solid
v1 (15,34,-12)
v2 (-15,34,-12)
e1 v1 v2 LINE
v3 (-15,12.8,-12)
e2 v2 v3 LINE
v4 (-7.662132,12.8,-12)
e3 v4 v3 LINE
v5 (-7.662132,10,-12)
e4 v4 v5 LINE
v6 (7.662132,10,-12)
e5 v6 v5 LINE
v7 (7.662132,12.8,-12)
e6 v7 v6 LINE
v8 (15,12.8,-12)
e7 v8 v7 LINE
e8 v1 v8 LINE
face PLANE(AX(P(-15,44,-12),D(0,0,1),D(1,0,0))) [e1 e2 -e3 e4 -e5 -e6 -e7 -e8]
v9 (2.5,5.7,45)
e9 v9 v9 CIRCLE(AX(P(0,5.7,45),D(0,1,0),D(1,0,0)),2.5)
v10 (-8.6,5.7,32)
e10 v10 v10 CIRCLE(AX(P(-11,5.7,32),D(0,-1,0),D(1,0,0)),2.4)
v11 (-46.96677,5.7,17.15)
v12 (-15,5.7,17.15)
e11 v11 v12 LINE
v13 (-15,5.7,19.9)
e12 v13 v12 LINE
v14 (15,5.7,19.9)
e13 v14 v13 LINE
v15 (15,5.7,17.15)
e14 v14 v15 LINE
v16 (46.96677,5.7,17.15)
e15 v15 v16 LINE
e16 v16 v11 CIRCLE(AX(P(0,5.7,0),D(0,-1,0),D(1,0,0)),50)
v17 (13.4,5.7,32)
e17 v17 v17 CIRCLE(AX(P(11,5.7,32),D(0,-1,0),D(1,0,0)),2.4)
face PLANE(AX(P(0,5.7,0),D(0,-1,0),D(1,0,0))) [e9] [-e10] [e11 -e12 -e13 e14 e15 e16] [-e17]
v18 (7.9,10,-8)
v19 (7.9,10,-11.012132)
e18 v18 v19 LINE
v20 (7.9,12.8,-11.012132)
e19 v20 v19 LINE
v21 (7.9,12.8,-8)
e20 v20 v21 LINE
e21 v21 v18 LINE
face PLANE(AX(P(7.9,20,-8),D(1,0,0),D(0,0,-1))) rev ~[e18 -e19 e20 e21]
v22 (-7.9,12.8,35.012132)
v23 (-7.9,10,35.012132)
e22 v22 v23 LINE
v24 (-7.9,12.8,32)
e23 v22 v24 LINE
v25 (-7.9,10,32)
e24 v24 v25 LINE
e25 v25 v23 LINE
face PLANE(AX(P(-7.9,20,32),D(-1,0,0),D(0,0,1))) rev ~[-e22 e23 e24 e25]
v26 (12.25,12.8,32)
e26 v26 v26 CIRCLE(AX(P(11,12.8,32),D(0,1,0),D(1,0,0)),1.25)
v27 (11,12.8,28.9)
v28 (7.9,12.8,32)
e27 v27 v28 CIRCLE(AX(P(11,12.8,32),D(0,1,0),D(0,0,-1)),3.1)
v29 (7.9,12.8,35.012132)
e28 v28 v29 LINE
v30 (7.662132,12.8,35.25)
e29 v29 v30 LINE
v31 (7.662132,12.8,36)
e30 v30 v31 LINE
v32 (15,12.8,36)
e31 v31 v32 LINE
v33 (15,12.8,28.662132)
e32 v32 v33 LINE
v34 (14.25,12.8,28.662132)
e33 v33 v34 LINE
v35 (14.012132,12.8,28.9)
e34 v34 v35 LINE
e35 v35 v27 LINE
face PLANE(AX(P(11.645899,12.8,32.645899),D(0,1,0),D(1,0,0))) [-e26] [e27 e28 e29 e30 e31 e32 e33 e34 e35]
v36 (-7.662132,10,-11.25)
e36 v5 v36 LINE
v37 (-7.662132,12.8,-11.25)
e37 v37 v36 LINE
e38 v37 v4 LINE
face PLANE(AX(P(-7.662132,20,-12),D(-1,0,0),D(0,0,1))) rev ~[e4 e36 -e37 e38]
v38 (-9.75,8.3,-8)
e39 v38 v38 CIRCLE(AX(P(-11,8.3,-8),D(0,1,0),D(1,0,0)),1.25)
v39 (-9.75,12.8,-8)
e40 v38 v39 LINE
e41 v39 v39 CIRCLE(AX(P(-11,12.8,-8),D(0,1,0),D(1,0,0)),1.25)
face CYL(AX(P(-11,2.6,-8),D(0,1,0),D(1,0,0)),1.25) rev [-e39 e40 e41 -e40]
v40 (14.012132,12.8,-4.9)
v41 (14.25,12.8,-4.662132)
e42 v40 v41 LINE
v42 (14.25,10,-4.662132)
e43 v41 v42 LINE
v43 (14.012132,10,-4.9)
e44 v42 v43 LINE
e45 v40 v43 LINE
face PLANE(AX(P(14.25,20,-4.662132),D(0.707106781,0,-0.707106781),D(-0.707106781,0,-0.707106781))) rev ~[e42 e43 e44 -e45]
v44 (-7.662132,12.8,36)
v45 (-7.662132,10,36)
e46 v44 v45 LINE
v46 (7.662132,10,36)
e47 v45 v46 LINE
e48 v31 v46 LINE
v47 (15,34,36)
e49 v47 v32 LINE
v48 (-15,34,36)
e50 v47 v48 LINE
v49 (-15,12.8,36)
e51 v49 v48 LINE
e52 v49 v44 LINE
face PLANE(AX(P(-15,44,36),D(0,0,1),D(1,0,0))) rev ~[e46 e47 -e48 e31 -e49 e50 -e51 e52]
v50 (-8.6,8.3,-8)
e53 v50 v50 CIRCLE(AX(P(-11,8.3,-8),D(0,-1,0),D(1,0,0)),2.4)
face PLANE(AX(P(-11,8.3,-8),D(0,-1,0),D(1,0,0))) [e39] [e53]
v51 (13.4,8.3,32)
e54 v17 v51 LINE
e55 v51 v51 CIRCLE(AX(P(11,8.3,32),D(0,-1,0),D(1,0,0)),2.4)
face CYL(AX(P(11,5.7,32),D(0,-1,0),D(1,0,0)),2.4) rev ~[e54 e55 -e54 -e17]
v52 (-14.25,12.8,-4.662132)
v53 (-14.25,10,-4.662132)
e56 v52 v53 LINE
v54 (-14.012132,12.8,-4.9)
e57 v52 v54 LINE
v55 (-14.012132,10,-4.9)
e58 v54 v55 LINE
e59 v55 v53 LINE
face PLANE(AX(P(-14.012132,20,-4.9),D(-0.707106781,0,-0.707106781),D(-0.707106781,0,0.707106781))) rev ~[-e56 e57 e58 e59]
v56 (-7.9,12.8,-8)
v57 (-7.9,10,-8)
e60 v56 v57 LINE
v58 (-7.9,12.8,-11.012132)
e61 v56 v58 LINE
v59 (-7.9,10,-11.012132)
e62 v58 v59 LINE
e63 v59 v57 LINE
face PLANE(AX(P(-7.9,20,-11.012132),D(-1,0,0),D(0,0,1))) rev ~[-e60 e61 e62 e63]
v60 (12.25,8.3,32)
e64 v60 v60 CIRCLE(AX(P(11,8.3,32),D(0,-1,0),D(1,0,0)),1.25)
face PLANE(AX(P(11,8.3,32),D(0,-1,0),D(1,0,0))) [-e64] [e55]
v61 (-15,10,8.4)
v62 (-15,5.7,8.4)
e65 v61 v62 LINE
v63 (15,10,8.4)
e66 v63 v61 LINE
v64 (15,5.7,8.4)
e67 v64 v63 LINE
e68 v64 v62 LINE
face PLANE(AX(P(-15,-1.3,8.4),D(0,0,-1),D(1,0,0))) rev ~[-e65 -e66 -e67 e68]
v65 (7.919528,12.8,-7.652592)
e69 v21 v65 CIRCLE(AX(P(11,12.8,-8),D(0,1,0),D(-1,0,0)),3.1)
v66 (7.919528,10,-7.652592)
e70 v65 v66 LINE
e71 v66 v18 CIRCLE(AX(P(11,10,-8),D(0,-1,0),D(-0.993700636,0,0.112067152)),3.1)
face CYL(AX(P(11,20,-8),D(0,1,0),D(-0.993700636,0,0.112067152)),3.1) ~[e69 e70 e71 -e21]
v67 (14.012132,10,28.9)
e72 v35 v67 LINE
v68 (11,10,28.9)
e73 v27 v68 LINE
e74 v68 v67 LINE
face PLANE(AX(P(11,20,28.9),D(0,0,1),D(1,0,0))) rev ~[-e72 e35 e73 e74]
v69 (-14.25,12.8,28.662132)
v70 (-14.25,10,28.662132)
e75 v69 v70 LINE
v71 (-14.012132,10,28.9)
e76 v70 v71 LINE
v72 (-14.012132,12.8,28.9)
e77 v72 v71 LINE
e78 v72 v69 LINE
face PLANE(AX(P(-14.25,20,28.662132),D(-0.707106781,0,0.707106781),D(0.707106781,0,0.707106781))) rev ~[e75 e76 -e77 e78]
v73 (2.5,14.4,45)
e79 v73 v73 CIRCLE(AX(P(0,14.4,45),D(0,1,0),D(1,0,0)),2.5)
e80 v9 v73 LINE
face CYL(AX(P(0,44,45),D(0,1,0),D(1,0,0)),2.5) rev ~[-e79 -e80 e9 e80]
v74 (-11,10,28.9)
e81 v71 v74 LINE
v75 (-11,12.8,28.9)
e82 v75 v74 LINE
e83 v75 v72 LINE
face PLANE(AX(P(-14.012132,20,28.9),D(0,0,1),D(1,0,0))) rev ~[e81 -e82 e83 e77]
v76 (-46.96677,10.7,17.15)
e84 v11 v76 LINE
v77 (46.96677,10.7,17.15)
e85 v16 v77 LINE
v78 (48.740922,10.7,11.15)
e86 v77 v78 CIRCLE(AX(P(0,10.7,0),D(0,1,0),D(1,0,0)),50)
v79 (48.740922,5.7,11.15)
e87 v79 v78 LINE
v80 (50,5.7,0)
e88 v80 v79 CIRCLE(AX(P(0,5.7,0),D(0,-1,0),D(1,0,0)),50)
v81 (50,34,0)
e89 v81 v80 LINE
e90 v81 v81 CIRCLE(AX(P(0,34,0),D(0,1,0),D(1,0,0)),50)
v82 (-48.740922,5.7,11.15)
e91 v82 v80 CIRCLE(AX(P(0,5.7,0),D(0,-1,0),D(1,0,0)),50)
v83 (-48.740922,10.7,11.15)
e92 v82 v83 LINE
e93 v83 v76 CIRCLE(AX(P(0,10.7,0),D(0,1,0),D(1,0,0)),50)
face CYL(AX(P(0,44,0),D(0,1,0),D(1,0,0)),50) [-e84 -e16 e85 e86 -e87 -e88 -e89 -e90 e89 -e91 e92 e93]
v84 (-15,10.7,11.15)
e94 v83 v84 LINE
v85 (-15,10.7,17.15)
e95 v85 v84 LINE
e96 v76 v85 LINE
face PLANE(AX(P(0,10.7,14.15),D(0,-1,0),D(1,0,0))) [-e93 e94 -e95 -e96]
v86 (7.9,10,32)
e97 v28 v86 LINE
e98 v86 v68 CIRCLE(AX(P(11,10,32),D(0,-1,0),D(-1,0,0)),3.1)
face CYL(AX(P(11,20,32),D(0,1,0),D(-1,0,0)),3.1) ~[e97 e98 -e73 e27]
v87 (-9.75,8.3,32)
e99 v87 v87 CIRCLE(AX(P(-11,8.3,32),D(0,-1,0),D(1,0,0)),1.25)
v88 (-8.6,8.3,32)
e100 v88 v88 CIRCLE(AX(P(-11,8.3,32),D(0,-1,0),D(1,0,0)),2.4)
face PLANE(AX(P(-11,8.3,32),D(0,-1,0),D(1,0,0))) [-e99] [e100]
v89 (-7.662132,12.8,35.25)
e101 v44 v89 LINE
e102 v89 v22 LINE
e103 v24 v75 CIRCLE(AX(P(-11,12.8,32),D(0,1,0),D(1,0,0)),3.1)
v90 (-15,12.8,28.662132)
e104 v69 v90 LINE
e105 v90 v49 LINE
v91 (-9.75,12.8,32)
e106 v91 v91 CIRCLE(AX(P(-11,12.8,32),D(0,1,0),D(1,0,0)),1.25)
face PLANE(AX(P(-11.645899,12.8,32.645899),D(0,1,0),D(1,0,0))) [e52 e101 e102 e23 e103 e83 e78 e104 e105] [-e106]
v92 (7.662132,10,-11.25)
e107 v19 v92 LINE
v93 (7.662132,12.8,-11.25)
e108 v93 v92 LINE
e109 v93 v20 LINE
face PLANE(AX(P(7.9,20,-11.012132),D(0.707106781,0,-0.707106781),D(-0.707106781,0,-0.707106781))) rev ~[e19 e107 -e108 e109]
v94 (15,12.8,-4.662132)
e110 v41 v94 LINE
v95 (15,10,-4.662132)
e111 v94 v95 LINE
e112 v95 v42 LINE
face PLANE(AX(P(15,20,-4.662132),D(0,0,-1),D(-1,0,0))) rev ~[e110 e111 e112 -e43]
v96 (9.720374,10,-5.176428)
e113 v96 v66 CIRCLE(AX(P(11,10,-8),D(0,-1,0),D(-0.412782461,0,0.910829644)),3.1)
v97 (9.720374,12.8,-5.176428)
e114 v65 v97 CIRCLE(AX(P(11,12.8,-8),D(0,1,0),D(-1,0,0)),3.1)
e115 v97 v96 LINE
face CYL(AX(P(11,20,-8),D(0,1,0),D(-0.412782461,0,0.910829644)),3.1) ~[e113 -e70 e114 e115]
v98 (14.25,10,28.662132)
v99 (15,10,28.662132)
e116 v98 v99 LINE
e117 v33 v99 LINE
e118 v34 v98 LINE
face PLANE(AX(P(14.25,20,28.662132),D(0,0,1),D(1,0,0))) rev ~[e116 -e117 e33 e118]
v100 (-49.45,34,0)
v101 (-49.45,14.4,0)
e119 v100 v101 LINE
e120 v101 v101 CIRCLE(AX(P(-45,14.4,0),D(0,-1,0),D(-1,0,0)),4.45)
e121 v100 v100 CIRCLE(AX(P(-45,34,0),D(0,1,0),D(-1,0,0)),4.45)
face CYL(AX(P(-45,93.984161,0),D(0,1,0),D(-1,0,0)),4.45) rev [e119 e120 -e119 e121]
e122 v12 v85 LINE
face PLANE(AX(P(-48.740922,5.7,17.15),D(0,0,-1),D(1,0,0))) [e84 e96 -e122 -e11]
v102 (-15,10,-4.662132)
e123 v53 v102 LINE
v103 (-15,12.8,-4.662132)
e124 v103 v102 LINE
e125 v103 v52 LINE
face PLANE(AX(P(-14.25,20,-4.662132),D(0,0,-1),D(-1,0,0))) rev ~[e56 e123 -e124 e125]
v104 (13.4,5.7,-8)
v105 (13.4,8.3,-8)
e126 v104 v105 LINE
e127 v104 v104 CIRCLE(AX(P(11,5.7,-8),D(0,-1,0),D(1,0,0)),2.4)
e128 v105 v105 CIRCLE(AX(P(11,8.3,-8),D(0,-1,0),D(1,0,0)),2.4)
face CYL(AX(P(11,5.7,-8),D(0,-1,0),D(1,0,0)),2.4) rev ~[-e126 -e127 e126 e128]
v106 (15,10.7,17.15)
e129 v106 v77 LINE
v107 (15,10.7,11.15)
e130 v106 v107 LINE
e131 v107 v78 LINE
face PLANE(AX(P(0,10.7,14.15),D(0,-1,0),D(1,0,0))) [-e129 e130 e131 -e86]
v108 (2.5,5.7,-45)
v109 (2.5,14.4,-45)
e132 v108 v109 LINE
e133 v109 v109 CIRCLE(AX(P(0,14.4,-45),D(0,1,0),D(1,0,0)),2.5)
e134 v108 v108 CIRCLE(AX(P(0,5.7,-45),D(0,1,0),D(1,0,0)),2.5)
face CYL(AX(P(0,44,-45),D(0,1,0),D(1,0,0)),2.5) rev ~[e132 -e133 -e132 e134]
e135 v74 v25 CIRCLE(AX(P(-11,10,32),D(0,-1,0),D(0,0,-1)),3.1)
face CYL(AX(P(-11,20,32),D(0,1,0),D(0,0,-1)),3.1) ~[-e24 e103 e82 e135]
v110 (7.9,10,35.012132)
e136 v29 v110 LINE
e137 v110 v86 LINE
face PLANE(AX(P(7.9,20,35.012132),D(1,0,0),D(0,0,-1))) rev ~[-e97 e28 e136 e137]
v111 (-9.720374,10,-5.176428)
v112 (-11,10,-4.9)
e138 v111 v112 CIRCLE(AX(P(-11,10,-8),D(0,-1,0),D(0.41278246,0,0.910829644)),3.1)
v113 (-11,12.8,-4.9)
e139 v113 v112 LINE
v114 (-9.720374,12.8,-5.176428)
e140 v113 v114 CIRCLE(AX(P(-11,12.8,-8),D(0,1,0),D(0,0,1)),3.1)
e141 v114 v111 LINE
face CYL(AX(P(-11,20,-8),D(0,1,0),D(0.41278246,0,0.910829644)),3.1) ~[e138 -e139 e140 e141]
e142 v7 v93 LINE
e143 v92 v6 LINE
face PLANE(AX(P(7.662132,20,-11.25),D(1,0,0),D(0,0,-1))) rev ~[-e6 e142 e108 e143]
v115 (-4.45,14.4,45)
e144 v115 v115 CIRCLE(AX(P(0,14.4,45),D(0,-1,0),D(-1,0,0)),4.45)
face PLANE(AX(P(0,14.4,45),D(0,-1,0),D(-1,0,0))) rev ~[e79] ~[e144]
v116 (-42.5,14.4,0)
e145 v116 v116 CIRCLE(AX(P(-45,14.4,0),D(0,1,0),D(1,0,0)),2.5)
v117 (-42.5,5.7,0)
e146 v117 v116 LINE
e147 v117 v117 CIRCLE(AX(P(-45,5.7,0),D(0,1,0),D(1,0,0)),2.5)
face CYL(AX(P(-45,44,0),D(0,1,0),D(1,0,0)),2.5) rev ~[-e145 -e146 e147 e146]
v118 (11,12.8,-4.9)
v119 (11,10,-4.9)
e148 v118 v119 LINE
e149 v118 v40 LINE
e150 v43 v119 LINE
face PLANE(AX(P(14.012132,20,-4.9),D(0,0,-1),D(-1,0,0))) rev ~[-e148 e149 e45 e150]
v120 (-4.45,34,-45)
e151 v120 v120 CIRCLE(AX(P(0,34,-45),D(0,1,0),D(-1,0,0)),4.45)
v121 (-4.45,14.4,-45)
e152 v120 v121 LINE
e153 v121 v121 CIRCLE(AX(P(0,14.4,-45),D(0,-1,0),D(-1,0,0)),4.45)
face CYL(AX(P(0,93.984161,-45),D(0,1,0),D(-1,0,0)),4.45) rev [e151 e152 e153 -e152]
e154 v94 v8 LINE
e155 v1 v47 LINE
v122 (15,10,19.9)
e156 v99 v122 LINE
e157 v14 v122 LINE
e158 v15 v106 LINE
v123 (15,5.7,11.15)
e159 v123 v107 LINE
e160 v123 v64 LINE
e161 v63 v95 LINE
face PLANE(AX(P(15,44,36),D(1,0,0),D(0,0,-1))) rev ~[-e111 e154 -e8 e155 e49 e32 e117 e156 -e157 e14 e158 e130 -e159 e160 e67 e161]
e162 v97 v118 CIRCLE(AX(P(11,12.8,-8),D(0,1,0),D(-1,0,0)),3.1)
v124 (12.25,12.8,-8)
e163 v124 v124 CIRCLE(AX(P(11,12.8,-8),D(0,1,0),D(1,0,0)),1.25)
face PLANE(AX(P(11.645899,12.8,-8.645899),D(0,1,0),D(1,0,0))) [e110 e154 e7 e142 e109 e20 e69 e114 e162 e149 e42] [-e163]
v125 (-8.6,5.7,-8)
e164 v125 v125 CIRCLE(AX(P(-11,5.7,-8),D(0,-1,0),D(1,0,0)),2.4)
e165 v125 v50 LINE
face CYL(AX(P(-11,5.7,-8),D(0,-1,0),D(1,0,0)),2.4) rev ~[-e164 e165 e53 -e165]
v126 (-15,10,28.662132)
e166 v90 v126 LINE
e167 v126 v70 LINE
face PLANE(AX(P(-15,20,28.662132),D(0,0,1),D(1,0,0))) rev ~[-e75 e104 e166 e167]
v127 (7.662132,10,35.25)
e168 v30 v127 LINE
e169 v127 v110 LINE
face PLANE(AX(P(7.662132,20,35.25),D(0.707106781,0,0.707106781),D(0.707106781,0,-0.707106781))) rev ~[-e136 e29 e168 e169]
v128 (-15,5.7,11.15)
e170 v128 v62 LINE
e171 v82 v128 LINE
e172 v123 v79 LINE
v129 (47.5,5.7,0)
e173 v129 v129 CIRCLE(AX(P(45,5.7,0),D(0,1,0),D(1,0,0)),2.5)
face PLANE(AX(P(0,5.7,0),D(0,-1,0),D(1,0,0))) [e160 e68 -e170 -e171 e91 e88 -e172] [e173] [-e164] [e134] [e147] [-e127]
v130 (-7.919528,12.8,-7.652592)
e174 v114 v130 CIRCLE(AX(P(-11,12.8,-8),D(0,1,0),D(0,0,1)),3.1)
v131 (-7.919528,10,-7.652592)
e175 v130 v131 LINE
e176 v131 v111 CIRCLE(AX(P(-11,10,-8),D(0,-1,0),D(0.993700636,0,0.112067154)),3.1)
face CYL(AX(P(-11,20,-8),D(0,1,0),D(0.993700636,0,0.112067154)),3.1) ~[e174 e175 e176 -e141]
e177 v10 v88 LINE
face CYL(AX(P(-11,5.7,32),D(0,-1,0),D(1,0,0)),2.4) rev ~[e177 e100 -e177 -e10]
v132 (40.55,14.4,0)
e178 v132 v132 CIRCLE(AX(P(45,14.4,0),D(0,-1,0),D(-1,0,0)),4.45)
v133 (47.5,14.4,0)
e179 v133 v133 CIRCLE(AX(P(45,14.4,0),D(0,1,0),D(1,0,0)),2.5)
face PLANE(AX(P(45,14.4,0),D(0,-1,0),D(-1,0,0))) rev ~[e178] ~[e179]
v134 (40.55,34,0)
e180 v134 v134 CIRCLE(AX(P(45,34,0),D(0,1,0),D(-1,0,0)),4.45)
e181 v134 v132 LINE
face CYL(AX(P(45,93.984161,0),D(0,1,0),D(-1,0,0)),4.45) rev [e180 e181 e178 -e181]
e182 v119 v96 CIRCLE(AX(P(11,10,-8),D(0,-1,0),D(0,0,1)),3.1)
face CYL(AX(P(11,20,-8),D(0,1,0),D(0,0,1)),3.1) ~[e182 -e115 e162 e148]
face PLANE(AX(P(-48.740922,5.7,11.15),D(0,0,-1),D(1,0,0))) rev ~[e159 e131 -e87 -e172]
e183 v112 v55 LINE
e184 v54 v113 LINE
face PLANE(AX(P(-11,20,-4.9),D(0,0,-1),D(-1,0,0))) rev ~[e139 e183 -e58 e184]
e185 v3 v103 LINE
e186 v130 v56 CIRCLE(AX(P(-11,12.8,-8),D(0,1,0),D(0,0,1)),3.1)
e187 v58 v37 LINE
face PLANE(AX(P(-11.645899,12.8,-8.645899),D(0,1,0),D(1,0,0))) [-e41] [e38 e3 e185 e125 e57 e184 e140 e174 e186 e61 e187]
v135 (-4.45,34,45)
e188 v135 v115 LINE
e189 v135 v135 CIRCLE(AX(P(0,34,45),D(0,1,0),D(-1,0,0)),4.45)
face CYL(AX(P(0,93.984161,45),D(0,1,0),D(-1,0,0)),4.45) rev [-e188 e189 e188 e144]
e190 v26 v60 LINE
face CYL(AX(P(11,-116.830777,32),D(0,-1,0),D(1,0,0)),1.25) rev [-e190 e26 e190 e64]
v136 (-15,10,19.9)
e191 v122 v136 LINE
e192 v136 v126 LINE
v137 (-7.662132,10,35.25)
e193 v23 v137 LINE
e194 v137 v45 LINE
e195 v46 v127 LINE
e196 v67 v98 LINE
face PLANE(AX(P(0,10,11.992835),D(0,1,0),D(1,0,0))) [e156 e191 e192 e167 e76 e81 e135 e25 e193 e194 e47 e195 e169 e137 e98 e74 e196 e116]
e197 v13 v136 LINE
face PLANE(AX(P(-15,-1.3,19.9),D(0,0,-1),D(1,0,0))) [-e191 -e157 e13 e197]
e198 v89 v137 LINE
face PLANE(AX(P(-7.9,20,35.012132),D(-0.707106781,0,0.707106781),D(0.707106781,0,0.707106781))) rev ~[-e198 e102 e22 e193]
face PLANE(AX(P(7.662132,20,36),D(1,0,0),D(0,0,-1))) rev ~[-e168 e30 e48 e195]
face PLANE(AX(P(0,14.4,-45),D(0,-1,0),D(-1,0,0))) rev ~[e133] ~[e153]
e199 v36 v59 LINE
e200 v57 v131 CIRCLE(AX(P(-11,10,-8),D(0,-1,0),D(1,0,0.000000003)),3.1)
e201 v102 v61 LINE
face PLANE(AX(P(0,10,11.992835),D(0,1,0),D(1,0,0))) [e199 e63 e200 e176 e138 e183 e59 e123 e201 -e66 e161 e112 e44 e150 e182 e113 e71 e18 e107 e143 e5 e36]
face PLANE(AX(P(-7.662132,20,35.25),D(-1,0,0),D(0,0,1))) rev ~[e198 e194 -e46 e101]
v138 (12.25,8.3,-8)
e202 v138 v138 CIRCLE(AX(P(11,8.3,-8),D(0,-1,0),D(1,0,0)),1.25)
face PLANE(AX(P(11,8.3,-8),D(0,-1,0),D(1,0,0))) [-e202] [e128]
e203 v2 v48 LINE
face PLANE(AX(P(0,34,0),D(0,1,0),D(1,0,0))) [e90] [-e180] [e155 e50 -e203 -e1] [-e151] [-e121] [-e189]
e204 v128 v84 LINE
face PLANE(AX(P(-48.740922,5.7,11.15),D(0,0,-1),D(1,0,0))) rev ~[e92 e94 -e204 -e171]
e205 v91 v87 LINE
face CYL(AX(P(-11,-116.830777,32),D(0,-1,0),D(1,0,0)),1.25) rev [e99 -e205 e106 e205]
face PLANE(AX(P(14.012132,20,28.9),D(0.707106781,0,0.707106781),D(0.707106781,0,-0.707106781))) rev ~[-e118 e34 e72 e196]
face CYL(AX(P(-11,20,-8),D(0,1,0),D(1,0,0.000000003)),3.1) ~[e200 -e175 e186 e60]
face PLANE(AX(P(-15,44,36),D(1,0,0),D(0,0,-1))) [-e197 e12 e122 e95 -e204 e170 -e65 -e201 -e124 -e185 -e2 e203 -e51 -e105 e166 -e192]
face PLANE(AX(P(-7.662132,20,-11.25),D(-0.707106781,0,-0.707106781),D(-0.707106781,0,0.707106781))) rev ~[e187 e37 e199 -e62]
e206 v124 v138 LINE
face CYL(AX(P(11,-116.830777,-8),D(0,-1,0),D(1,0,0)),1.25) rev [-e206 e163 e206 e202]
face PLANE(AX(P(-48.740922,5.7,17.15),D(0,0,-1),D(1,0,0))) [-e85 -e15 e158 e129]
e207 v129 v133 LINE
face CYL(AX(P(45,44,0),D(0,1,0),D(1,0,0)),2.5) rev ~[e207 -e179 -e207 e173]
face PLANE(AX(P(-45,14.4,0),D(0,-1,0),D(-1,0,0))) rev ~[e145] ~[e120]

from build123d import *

# Parameters (mm, degrees)
SKETCH_1_R                = 95
EXTRUDE_1_DEPTH           = 20
CUT_EXTRUDE_1_DEPTH       = 10
CUT_EXTRUDE_3_DEPTH       = 136.830777072
CUT_EXTRUDE_3_DEPTH_BACK  = 136.830777072
SKETCH_3_3_R              = 1.25
CUT_EXTRUDE_4_DEPTH       = 136.830777072
CUT_EXTRUDE_4_DEPTH_BACK  = 7.2
SKETCH_3_4_R              = 1.25
SKETCH_4_R                = 2.4
CUT_EXTRUDE_5_DEPTH       = 2.6
SKETCH_5_R                = 4
CUT_EXTRUDE_6_DEPTH       = 136.830777072
SKETCH_6_W                = 30
SKETCH_6_H                = 11.5
CUT_EXTRUDE_7_DEPTH       = 136.830777072
EXTRUDE_START             = 1.3
SKETCH_7_R                = 95
SKETCH_7_R_2              = 4
SKETCH_7_R_3              = 2.4
SKETCH_7_W                = 30
SKETCH_7_H                = 11.5
EXTRUDE_2_DEPTH           = 1.3
SKETCH_8_R                = 2.4
SKETCH_8_R_2              = 1.25
EXTRUDE_3_DEPTH           = 1.3
CUT_EXTRUDE_8_DEPTH       = 6.5
SKETCH_10_R               = 95
SKETCH_10_R_2             = 4
SKETCH_10_R_3             = 50
CUT_EXTRUDE_9_DEPTH       = 137.028269121
SKETCH_11_R               = 2.5
CUT_EXTRUDE_10_DEPTH      = 74.849102906
SKETCH_12_R               = 4.45
CUT_EXTRUDE_11_DEPTH      = 6.3
EXTRUDE_START_2           = 24
SKETCH_13_R               = 50
SKETCH_13_R_2             = 2.5
SKETCH_13_W               = 30
SKETCH_13_H               = 48
EXTRUDE_4_DEPTH           = 24
CUT_EXTRUDE_START         = -7
SKETCH_14_R               = 50
CUT_EXTRUDE_12_DEPTH      = 7
SKETCH_17_R               = 2.4
CUT_EXTRUDE_14_DEPTH      = 2.6
SKETCH_18_W               = 97.481844464
SKETCH_18_H               = 6
CUT_EXTRUDE_15_DEPTH      = 5
SKETCH_19_R               = 50
CUT_EXTRUDE_16_DEPTH      = 10
CUT_EXTRUDE_17_DEPTH      = 6.3
CUT_EXTRUDE_17_DEPTH_BACK = 73.284161474
SKETCH_20_R               = 4.45


with BuildPart() as part:
    # 스케치1 → 보스-돌출1 (new body)
    with BuildSketch(Plane(origin=(0, 0, 0), x_dir=(1, 0, 0), z_dir=(0, 1, 0))):
        Circle(SKETCH_1_R)
    extrude(amount=EXTRUDE_1_DEPTH)

    # 스케치3 → 컷-돌출1 (cut)
    with BuildSketch(Plane(origin=(0, 20, 0), x_dir=(1, 0, 0), z_dir=(0, 1, 0))):
        with BuildLine():
            Line((7.662132034, 12), (-7.662132034, 12))
            Line((-7.662132034, 12), (-7.662132034, 11.25))
            Line((-7.662132034, 11.25), (-7.9, 11.012132034))
            Line((-7.9, 11.012132034), (-7.9, 8))
            ThreePointArc((-7.9, 8), (-7.904885858, 7.826021708), (-7.91952803, 7.652591824))
            ThreePointArc((-7.91952803, 7.652591824), (-8.492918139, 6.176667737), (-9.720374371, 5.176428104))
            ThreePointArc((-9.720374371, 5.176428104), (-10.345428719, 4.969894979), (-11, 4.9))
            Line((-11, 4.9), (-14.012132034, 4.9))
            Line((-14.012132034, 4.9), (-14.25, 4.662132034))
            Line((-14.25, 4.662132034), (-15, 4.662132034))
            Line((-15, 4.662132034), (-15, -28.662132034))
            Line((-15, -28.662132034), (-14.25, -28.662132034))
            Line((-14.25, -28.662132034), (-14.012132034, -28.9))
            Line((-14.012132034, -28.9), (-11, -28.9))
            ThreePointArc((-11, -28.9), (-8.807968978, -29.807968978), (-7.9, -32))
            Line((-7.9, -32), (-7.9, -35.012132034))
            Line((-7.9, -35.012132034), (-7.662132034, -35.25))
            Line((-7.662132034, -35.25), (-7.662132034, -36))
            Line((-7.662132034, -36), (7.662132034, -36))
            Line((7.662132034, -36), (7.662132034, -35.25))
            Line((7.662132034, -35.25), (7.9, -35.012132034))
            Line((7.9, -35.012132034), (7.9, -32))
            ThreePointArc((7.9, -32), (8.807968978, -29.807968978), (11, -28.9))
            Line((11, -28.9), (14.012132034, -28.9))
            Line((14.012132034, -28.9), (14.25, -28.662132034))
            Line((14.25, -28.662132034), (15, -28.662132034))
            Line((15, -28.662132034), (15, 4.662132034))
            Line((15, 4.662132034), (14.25, 4.662132034))
            Line((14.25, 4.662132034), (14.012132034, 4.9))
            Line((14.012132034, 4.9), (11, 4.9))
            ThreePointArc((11, 4.9), (10.345428719, 4.969894979), (9.720374371, 5.176428104))
            ThreePointArc((9.720374371, 5.176428104), (8.492918139, 6.176667737), (7.91952803, 7.652591824))
            ThreePointArc((7.91952803, 7.652591824), (7.904885858, 7.826021708), (7.9, 8))
            Line((7.9, 8), (7.9, 11.012132034))
            Line((7.9, 11.012132034), (7.662132034, 11.25))
            Line((7.662132034, 11.25), (7.662132034, 12))
        make_face()
    extrude(amount=-CUT_EXTRUDE_1_DEPTH, mode=Mode.SUBTRACT)

    # 스케치3<3> → 컷-돌출3 (cut, two sides: drawn at the far end of the back side and taken through both)
    with BuildSketch(Plane(origin=(0, 20, 0), x_dir=(1, 0, 0), z_dir=(0, 1, 0)).offset(-CUT_EXTRUDE_3_DEPTH_BACK)):
        with Locations((-11, 8)):
            Circle(SKETCH_3_3_R)
        with Locations((11, 8)):
            Circle(SKETCH_3_3_R)
        with Locations((-11, -32)):
            Circle(SKETCH_3_3_R)
        with Locations((11, -32.000000001)):
            Circle(SKETCH_3_3_R)
    extrude(amount=CUT_EXTRUDE_3_DEPTH + CUT_EXTRUDE_3_DEPTH_BACK, mode=Mode.SUBTRACT)

    # 스케치3<4> → 컷-돌출4 (cut, two sides: drawn at the far end of the back side and taken through both)
    # profile 1 of 4: a face of its own
    with BuildSketch(Plane(origin=(0, 20, 0), x_dir=(1, 0, 0), z_dir=(0, 1, 0)).offset(-CUT_EXTRUDE_4_DEPTH_BACK)):
        with BuildLine():
            Line((-7.662132034, 12), (-15, 12))
            Line((-15, 12), (-15, 4.662132034))
            Line((-15, 4.662132034), (-14.25, 4.662132034))
            Line((-14.25, 4.662132034), (-14.012132034, 4.9))
            Line((-14.012132034, 4.9), (-11, 4.9))
            ThreePointArc((-11, 4.9), (-8.807968978, 5.807968978), (-7.9, 8))
            Line((-7.9, 8), (-7.9, 11.012132034))
            Line((-7.9, 11.012132034), (-7.662132034, 11.25))
            Line((-7.662132034, 11.25), (-7.662132034, 12))
        make_face()
        with Locations((-11, 8)):
            Circle(SKETCH_3_4_R, mode=Mode.SUBTRACT)
    # profile 2 of 4: a face of its own
    with BuildSketch(Plane(origin=(0, 20, 0), x_dir=(1, 0, 0), z_dir=(0, 1, 0)).offset(-CUT_EXTRUDE_4_DEPTH_BACK)):
        with BuildLine():
            Line((15, 12), (7.662132034, 12))
            Line((7.662132034, 12), (7.662132034, 11.25))
            Line((7.662132034, 11.25), (7.9, 11.012132034))
            Line((7.9, 11.012132034), (7.9, 8))
            ThreePointArc((7.9, 8), (8.807968978, 5.807968978), (11, 4.9))
            Line((11, 4.9), (14.012132034, 4.9))
            Line((14.012132034, 4.9), (14.25, 4.662132034))
            Line((14.25, 4.662132034), (15, 4.662132034))
            Line((15, 4.662132034), (15, 12))
        make_face()
        with Locations((11, 8)):
            Circle(SKETCH_3_4_R, mode=Mode.SUBTRACT)
    # profile 3 of 4: a face of its own
    with BuildSketch(Plane(origin=(0, 20, 0), x_dir=(1, 0, 0), z_dir=(0, 1, 0)).offset(-CUT_EXTRUDE_4_DEPTH_BACK)):
        with BuildLine():
            Line((-14.25, -28.662132034), (-15, -28.662132034))
            Line((-15, -28.662132034), (-15, -36))
            Line((-15, -36), (-7.662132034, -36))
            Line((-7.662132034, -36), (-7.662132034, -35.25))
            Line((-7.662132034, -35.25), (-7.9, -35.012132034))
            Line((-7.9, -35.012132034), (-7.9, -32))
            ThreePointArc((-7.9, -32), (-8.807968978, -29.807968978), (-11, -28.9))
            Line((-11, -28.9), (-14.012132034, -28.9))
            Line((-14.012132034, -28.9), (-14.25, -28.662132034))
        make_face()
        with Locations((-11, -32)):
            Circle(SKETCH_3_4_R, mode=Mode.SUBTRACT)
    # profile 4 of 4: a face of its own
    with BuildSketch(Plane(origin=(0, 20, 0), x_dir=(1, 0, 0), z_dir=(0, 1, 0)).offset(-CUT_EXTRUDE_4_DEPTH_BACK)):
        with BuildLine():
            Line((15, -36), (15, -28.662132034))
            Line((15, -28.662132034), (14.25, -28.662132034))
            Line((14.25, -28.662132034), (14.012132034, -28.9))
            Line((14.012132034, -28.9), (11, -28.9))
            ThreePointArc((11, -28.9), (8.807968978, -29.807968978), (7.9, -32))
            Line((7.9, -32), (7.9, -35.012132034))
            Line((7.9, -35.012132034), (7.662132034, -35.25))
            Line((7.662132034, -35.25), (7.662132034, -36))
            Line((7.662132034, -36), (15, -36))
        make_face()
        with Locations((11, -32.000000001)):
            Circle(SKETCH_3_4_R, mode=Mode.SUBTRACT)
    extrude(amount=CUT_EXTRUDE_4_DEPTH + CUT_EXTRUDE_4_DEPTH_BACK, mode=Mode.SUBTRACT)

    # 스케치4 → 컷-돌출5 (cut)
    with BuildSketch(Plane.XZ):
        with Locations((11, -8)):
            Circle(SKETCH_4_R)
        with Locations((10.9999909, 32.000014521)):
            Circle(SKETCH_4_R)
        with Locations((-11, -8)):
            Circle(SKETCH_4_R)
        with Locations((-11.0000091, 32.000014521)):
            Circle(SKETCH_4_R)
    extrude(amount=-CUT_EXTRUDE_5_DEPTH, mode=Mode.SUBTRACT)

    # 스케치5 → 컷-돌출6 (cut, through all)
    with BuildSketch(Plane.XZ):
        with Locations((86, 0)):
            Circle(SKETCH_5_R)
        with Locations((0, -86)):
            Circle(SKETCH_5_R)
        with Locations((-86, 0)):
            Circle(SKETCH_5_R)
        with Locations((0, 86)):
            Circle(SKETCH_5_R)
    extrude(amount=-CUT_EXTRUDE_6_DEPTH, mode=Mode.SUBTRACT)

    # 스케치6 → 컷-돌출7 (cut, through all)
    with BuildSketch(Plane(origin=(0, 0, 0), x_dir=(1, 0, 0), z_dir=(0, 1, 0))):
        with Locations((0, -14.15)):
            Rectangle(SKETCH_6_W, SKETCH_6_H)
    extrude(amount=CUT_EXTRUDE_7_DEPTH, mode=Mode.SUBTRACT)

    # 스케치7 → 보스-돌출2 (add)
    with BuildSketch(Plane.XZ.offset(EXTRUDE_START)):
        Circle(SKETCH_7_R)
        with Locations((-86, 0)):
            Circle(SKETCH_7_R_2, mode=Mode.SUBTRACT)
        with Locations((0, 86)):
            Circle(SKETCH_7_R_2, mode=Mode.SUBTRACT)
        with Locations((86, 0)):
            Circle(SKETCH_7_R_2, mode=Mode.SUBTRACT)
        with Locations((0, -86)):
            Circle(SKETCH_7_R_2, mode=Mode.SUBTRACT)
        with Locations((11, -8)):
            Circle(SKETCH_7_R_3, mode=Mode.SUBTRACT)
        with Locations((-11, -8)):
            Circle(SKETCH_7_R_3, mode=Mode.SUBTRACT)
        with Locations((-11.0000091, 32.000014521)):
            Circle(SKETCH_7_R_3, mode=Mode.SUBTRACT)
        with Locations((10.9999909, 32.000014521)):
            Circle(SKETCH_7_R_3, mode=Mode.SUBTRACT)
        with Locations((0, 14.15)):
            Rectangle(SKETCH_7_W, SKETCH_7_H, mode=Mode.SUBTRACT)
    extrude(amount=-EXTRUDE_2_DEPTH)

    # 스케치8 → 보스-돌출3 (add)
    # profile 1 of 4: a face of its own
    with BuildSketch(Plane.XZ.offset(-2.6)):
        with Locations((-11, -8)):
            Circle(SKETCH_8_R)
        with Locations((-11, -8)):
            Circle(SKETCH_8_R_2, mode=Mode.SUBTRACT)
    # profile 2 of 4: a face of its own
    with BuildSketch(Plane.XZ.offset(-2.6)):
        with Locations((11, -8)):
            Circle(SKETCH_8_R)
        with Locations((11, -8)):
            Circle(SKETCH_8_R_2, mode=Mode.SUBTRACT)
    # profile 3 of 4: a face of its own
    with BuildSketch(Plane.XZ.offset(-2.6)):
        with Locations((10.9999909, 32.000014521)):
            Circle(SKETCH_8_R)
        with Locations((11, 32.000000001)):
            Circle(SKETCH_8_R_2, mode=Mode.SUBTRACT)
    # profile 4 of 4: a face of its own
    with BuildSketch(Plane.XZ.offset(-2.6)):
        with Locations((-11.0000091, 32.000014521)):
            Circle(SKETCH_8_R)
        with Locations((-11, 32)):
            Circle(SKETCH_8_R_2, mode=Mode.SUBTRACT)
    extrude(amount=EXTRUDE_3_DEPTH)

    # 스케치9 → 컷-돌출8 (cut)
    with BuildSketch(Plane.XZ.offset(1.3)):
        Polygon((7.5, 86), (3.75, 92.495190528), (-3.75, 92.495190528), (-7.5, 86), (-3.75, 79.504809472), (3.75, 79.504809472), align=None)
        Polygon((-86, 7.5), (-92.495190528, 3.75), (-92.495190528, -3.75), (-86, -7.5), (-79.504809472, -3.75), (-79.504809472, 3.75), align=None)
        Polygon((86, -7.5), (92.495190528, -3.75), (92.495190528, 3.75), (86, 7.5), (79.504809472, 3.75), (79.504809472, -3.75), align=None)
        Polygon((-7.5, -86), (-3.75, -92.495190528), (3.75, -92.495190528), (7.5, -86), (3.75, -79.504809472), (-3.75, -79.504809472), align=None)
    extrude(amount=-CUT_EXTRUDE_8_DEPTH, mode=Mode.SUBTRACT)

    # 스케치10 → 컷-돌출9 (cut, through all)
    with BuildSketch(Plane(origin=(0, 20, 0), x_dir=(1, 0, 0), z_dir=(0, 1, 0))):
        Circle(SKETCH_10_R)
        with Locations((0, -86)):
            Circle(SKETCH_10_R_2, mode=Mode.SUBTRACT)
        with Locations((-86, 0)):
            Circle(SKETCH_10_R_2, mode=Mode.SUBTRACT)
        Circle(SKETCH_10_R_3, mode=Mode.SUBTRACT)
        with Locations((86, 0)):
            Circle(SKETCH_10_R_2, mode=Mode.SUBTRACT)
        with Locations((0, 86)):
            Circle(SKETCH_10_R_2, mode=Mode.SUBTRACT)
    extrude(amount=-CUT_EXTRUDE_9_DEPTH, mode=Mode.SUBTRACT)

    # 스케치11 → 컷-돌출10 (cut, through all)
    with BuildSketch(Plane(origin=(0, 20, 0), x_dir=(1, 0, 0), z_dir=(0, 1, 0))):
        with Locations((0, 45)):
            Circle(SKETCH_11_R)
        with Locations((45, 0)):
            Circle(SKETCH_11_R)
        with Locations((0, -45)):
            Circle(SKETCH_11_R)
        with Locations((-45, 0)):
            Circle(SKETCH_11_R)
    extrude(amount=-CUT_EXTRUDE_10_DEPTH, mode=Mode.SUBTRACT)

    # 스케치12 → 컷-돌출11 (cut)
    with BuildSketch(Plane.XZ.offset(1.3)):
        with Locations((0, -45)):
            Circle(SKETCH_12_R)
        with Locations((-45, 0)):
            Circle(SKETCH_12_R)
        with Locations((0, 45)):
            Circle(SKETCH_12_R)
        with Locations((45, 0)):
            Circle(SKETCH_12_R)
    extrude(amount=-CUT_EXTRUDE_11_DEPTH, mode=Mode.SUBTRACT)

    # 스케치13 → 보스-돌출4 (add)
    with BuildSketch(Plane(origin=(0, 20, 0), x_dir=(1, 0, 0), z_dir=(0, 1, 0)).offset(EXTRUDE_START_2)):
        Circle(SKETCH_13_R)
        with Locations((0, 45)):
            Circle(SKETCH_13_R_2, mode=Mode.SUBTRACT)
        with Locations((-45, 0)):
            Circle(SKETCH_13_R_2, mode=Mode.SUBTRACT)
        with Locations((0, -45)):
            Circle(SKETCH_13_R_2, mode=Mode.SUBTRACT)
        with Locations((45, 0)):
            Circle(SKETCH_13_R_2, mode=Mode.SUBTRACT)
        with Locations((0, -12)):
            Rectangle(SKETCH_13_W, SKETCH_13_H, mode=Mode.SUBTRACT)
    extrude(amount=-EXTRUDE_4_DEPTH)

    # 스케치14 → 컷-돌출12 (cut)
    with BuildSketch(Plane.XZ.offset(1.3).offset(CUT_EXTRUDE_START)):
        Circle(SKETCH_14_R)
    extrude(amount=CUT_EXTRUDE_12_DEPTH, mode=Mode.SUBTRACT)

    # 스케치17 → 컷-돌출14 (cut)
    with BuildSketch(Plane.XZ.offset(-5.7)):
        with Locations((11, -8)):
            Circle(SKETCH_17_R)
        with Locations((-11, -8)):
            Circle(SKETCH_17_R)
        with Locations((-11, 32)):
            Circle(SKETCH_17_R)
        with Locations((11, 32.000000001)):
            Circle(SKETCH_17_R)
    extrude(amount=-CUT_EXTRUDE_14_DEPTH, mode=Mode.SUBTRACT)

    # 스케치18 → 컷-돌출15 (cut)
    with BuildSketch(Plane.XZ.offset(-5.7)):
        with Locations((0, 14.15)):
            Rectangle(SKETCH_18_W, SKETCH_18_H)
    extrude(amount=-CUT_EXTRUDE_15_DEPTH, mode=Mode.SUBTRACT)

    # 스케치19 → 컷-돌출16 (cut)
    with BuildSketch(Plane(origin=(0, 44, 0), x_dir=(1, 0, 0), z_dir=(0, 1, 0))):
        Circle(SKETCH_19_R)
    extrude(amount=-CUT_EXTRUDE_16_DEPTH, mode=Mode.SUBTRACT)

    # 스케치20 → 컷-돌출17 (cut, two sides: drawn at the far end of the back side and taken through both)
    with BuildSketch(Plane(origin=(0, 20.7, 0), x_dir=(-1, 0, 0), z_dir=(0, -1, 0)).offset(-CUT_EXTRUDE_17_DEPTH_BACK)):
        with Locations((-45, 0)):
            Circle(SKETCH_20_R)
        with Locations((0, -45)):
            Circle(SKETCH_20_R)
        with Locations((45, 0)):
            Circle(SKETCH_20_R)
        with Locations((0, 45)):
            Circle(SKETCH_20_R)
    extrude(amount=CUT_EXTRUDE_17_DEPTH + CUT_EXTRUDE_17_DEPTH_BACK, mode=Mode.SUBTRACT)


solid = part.part
